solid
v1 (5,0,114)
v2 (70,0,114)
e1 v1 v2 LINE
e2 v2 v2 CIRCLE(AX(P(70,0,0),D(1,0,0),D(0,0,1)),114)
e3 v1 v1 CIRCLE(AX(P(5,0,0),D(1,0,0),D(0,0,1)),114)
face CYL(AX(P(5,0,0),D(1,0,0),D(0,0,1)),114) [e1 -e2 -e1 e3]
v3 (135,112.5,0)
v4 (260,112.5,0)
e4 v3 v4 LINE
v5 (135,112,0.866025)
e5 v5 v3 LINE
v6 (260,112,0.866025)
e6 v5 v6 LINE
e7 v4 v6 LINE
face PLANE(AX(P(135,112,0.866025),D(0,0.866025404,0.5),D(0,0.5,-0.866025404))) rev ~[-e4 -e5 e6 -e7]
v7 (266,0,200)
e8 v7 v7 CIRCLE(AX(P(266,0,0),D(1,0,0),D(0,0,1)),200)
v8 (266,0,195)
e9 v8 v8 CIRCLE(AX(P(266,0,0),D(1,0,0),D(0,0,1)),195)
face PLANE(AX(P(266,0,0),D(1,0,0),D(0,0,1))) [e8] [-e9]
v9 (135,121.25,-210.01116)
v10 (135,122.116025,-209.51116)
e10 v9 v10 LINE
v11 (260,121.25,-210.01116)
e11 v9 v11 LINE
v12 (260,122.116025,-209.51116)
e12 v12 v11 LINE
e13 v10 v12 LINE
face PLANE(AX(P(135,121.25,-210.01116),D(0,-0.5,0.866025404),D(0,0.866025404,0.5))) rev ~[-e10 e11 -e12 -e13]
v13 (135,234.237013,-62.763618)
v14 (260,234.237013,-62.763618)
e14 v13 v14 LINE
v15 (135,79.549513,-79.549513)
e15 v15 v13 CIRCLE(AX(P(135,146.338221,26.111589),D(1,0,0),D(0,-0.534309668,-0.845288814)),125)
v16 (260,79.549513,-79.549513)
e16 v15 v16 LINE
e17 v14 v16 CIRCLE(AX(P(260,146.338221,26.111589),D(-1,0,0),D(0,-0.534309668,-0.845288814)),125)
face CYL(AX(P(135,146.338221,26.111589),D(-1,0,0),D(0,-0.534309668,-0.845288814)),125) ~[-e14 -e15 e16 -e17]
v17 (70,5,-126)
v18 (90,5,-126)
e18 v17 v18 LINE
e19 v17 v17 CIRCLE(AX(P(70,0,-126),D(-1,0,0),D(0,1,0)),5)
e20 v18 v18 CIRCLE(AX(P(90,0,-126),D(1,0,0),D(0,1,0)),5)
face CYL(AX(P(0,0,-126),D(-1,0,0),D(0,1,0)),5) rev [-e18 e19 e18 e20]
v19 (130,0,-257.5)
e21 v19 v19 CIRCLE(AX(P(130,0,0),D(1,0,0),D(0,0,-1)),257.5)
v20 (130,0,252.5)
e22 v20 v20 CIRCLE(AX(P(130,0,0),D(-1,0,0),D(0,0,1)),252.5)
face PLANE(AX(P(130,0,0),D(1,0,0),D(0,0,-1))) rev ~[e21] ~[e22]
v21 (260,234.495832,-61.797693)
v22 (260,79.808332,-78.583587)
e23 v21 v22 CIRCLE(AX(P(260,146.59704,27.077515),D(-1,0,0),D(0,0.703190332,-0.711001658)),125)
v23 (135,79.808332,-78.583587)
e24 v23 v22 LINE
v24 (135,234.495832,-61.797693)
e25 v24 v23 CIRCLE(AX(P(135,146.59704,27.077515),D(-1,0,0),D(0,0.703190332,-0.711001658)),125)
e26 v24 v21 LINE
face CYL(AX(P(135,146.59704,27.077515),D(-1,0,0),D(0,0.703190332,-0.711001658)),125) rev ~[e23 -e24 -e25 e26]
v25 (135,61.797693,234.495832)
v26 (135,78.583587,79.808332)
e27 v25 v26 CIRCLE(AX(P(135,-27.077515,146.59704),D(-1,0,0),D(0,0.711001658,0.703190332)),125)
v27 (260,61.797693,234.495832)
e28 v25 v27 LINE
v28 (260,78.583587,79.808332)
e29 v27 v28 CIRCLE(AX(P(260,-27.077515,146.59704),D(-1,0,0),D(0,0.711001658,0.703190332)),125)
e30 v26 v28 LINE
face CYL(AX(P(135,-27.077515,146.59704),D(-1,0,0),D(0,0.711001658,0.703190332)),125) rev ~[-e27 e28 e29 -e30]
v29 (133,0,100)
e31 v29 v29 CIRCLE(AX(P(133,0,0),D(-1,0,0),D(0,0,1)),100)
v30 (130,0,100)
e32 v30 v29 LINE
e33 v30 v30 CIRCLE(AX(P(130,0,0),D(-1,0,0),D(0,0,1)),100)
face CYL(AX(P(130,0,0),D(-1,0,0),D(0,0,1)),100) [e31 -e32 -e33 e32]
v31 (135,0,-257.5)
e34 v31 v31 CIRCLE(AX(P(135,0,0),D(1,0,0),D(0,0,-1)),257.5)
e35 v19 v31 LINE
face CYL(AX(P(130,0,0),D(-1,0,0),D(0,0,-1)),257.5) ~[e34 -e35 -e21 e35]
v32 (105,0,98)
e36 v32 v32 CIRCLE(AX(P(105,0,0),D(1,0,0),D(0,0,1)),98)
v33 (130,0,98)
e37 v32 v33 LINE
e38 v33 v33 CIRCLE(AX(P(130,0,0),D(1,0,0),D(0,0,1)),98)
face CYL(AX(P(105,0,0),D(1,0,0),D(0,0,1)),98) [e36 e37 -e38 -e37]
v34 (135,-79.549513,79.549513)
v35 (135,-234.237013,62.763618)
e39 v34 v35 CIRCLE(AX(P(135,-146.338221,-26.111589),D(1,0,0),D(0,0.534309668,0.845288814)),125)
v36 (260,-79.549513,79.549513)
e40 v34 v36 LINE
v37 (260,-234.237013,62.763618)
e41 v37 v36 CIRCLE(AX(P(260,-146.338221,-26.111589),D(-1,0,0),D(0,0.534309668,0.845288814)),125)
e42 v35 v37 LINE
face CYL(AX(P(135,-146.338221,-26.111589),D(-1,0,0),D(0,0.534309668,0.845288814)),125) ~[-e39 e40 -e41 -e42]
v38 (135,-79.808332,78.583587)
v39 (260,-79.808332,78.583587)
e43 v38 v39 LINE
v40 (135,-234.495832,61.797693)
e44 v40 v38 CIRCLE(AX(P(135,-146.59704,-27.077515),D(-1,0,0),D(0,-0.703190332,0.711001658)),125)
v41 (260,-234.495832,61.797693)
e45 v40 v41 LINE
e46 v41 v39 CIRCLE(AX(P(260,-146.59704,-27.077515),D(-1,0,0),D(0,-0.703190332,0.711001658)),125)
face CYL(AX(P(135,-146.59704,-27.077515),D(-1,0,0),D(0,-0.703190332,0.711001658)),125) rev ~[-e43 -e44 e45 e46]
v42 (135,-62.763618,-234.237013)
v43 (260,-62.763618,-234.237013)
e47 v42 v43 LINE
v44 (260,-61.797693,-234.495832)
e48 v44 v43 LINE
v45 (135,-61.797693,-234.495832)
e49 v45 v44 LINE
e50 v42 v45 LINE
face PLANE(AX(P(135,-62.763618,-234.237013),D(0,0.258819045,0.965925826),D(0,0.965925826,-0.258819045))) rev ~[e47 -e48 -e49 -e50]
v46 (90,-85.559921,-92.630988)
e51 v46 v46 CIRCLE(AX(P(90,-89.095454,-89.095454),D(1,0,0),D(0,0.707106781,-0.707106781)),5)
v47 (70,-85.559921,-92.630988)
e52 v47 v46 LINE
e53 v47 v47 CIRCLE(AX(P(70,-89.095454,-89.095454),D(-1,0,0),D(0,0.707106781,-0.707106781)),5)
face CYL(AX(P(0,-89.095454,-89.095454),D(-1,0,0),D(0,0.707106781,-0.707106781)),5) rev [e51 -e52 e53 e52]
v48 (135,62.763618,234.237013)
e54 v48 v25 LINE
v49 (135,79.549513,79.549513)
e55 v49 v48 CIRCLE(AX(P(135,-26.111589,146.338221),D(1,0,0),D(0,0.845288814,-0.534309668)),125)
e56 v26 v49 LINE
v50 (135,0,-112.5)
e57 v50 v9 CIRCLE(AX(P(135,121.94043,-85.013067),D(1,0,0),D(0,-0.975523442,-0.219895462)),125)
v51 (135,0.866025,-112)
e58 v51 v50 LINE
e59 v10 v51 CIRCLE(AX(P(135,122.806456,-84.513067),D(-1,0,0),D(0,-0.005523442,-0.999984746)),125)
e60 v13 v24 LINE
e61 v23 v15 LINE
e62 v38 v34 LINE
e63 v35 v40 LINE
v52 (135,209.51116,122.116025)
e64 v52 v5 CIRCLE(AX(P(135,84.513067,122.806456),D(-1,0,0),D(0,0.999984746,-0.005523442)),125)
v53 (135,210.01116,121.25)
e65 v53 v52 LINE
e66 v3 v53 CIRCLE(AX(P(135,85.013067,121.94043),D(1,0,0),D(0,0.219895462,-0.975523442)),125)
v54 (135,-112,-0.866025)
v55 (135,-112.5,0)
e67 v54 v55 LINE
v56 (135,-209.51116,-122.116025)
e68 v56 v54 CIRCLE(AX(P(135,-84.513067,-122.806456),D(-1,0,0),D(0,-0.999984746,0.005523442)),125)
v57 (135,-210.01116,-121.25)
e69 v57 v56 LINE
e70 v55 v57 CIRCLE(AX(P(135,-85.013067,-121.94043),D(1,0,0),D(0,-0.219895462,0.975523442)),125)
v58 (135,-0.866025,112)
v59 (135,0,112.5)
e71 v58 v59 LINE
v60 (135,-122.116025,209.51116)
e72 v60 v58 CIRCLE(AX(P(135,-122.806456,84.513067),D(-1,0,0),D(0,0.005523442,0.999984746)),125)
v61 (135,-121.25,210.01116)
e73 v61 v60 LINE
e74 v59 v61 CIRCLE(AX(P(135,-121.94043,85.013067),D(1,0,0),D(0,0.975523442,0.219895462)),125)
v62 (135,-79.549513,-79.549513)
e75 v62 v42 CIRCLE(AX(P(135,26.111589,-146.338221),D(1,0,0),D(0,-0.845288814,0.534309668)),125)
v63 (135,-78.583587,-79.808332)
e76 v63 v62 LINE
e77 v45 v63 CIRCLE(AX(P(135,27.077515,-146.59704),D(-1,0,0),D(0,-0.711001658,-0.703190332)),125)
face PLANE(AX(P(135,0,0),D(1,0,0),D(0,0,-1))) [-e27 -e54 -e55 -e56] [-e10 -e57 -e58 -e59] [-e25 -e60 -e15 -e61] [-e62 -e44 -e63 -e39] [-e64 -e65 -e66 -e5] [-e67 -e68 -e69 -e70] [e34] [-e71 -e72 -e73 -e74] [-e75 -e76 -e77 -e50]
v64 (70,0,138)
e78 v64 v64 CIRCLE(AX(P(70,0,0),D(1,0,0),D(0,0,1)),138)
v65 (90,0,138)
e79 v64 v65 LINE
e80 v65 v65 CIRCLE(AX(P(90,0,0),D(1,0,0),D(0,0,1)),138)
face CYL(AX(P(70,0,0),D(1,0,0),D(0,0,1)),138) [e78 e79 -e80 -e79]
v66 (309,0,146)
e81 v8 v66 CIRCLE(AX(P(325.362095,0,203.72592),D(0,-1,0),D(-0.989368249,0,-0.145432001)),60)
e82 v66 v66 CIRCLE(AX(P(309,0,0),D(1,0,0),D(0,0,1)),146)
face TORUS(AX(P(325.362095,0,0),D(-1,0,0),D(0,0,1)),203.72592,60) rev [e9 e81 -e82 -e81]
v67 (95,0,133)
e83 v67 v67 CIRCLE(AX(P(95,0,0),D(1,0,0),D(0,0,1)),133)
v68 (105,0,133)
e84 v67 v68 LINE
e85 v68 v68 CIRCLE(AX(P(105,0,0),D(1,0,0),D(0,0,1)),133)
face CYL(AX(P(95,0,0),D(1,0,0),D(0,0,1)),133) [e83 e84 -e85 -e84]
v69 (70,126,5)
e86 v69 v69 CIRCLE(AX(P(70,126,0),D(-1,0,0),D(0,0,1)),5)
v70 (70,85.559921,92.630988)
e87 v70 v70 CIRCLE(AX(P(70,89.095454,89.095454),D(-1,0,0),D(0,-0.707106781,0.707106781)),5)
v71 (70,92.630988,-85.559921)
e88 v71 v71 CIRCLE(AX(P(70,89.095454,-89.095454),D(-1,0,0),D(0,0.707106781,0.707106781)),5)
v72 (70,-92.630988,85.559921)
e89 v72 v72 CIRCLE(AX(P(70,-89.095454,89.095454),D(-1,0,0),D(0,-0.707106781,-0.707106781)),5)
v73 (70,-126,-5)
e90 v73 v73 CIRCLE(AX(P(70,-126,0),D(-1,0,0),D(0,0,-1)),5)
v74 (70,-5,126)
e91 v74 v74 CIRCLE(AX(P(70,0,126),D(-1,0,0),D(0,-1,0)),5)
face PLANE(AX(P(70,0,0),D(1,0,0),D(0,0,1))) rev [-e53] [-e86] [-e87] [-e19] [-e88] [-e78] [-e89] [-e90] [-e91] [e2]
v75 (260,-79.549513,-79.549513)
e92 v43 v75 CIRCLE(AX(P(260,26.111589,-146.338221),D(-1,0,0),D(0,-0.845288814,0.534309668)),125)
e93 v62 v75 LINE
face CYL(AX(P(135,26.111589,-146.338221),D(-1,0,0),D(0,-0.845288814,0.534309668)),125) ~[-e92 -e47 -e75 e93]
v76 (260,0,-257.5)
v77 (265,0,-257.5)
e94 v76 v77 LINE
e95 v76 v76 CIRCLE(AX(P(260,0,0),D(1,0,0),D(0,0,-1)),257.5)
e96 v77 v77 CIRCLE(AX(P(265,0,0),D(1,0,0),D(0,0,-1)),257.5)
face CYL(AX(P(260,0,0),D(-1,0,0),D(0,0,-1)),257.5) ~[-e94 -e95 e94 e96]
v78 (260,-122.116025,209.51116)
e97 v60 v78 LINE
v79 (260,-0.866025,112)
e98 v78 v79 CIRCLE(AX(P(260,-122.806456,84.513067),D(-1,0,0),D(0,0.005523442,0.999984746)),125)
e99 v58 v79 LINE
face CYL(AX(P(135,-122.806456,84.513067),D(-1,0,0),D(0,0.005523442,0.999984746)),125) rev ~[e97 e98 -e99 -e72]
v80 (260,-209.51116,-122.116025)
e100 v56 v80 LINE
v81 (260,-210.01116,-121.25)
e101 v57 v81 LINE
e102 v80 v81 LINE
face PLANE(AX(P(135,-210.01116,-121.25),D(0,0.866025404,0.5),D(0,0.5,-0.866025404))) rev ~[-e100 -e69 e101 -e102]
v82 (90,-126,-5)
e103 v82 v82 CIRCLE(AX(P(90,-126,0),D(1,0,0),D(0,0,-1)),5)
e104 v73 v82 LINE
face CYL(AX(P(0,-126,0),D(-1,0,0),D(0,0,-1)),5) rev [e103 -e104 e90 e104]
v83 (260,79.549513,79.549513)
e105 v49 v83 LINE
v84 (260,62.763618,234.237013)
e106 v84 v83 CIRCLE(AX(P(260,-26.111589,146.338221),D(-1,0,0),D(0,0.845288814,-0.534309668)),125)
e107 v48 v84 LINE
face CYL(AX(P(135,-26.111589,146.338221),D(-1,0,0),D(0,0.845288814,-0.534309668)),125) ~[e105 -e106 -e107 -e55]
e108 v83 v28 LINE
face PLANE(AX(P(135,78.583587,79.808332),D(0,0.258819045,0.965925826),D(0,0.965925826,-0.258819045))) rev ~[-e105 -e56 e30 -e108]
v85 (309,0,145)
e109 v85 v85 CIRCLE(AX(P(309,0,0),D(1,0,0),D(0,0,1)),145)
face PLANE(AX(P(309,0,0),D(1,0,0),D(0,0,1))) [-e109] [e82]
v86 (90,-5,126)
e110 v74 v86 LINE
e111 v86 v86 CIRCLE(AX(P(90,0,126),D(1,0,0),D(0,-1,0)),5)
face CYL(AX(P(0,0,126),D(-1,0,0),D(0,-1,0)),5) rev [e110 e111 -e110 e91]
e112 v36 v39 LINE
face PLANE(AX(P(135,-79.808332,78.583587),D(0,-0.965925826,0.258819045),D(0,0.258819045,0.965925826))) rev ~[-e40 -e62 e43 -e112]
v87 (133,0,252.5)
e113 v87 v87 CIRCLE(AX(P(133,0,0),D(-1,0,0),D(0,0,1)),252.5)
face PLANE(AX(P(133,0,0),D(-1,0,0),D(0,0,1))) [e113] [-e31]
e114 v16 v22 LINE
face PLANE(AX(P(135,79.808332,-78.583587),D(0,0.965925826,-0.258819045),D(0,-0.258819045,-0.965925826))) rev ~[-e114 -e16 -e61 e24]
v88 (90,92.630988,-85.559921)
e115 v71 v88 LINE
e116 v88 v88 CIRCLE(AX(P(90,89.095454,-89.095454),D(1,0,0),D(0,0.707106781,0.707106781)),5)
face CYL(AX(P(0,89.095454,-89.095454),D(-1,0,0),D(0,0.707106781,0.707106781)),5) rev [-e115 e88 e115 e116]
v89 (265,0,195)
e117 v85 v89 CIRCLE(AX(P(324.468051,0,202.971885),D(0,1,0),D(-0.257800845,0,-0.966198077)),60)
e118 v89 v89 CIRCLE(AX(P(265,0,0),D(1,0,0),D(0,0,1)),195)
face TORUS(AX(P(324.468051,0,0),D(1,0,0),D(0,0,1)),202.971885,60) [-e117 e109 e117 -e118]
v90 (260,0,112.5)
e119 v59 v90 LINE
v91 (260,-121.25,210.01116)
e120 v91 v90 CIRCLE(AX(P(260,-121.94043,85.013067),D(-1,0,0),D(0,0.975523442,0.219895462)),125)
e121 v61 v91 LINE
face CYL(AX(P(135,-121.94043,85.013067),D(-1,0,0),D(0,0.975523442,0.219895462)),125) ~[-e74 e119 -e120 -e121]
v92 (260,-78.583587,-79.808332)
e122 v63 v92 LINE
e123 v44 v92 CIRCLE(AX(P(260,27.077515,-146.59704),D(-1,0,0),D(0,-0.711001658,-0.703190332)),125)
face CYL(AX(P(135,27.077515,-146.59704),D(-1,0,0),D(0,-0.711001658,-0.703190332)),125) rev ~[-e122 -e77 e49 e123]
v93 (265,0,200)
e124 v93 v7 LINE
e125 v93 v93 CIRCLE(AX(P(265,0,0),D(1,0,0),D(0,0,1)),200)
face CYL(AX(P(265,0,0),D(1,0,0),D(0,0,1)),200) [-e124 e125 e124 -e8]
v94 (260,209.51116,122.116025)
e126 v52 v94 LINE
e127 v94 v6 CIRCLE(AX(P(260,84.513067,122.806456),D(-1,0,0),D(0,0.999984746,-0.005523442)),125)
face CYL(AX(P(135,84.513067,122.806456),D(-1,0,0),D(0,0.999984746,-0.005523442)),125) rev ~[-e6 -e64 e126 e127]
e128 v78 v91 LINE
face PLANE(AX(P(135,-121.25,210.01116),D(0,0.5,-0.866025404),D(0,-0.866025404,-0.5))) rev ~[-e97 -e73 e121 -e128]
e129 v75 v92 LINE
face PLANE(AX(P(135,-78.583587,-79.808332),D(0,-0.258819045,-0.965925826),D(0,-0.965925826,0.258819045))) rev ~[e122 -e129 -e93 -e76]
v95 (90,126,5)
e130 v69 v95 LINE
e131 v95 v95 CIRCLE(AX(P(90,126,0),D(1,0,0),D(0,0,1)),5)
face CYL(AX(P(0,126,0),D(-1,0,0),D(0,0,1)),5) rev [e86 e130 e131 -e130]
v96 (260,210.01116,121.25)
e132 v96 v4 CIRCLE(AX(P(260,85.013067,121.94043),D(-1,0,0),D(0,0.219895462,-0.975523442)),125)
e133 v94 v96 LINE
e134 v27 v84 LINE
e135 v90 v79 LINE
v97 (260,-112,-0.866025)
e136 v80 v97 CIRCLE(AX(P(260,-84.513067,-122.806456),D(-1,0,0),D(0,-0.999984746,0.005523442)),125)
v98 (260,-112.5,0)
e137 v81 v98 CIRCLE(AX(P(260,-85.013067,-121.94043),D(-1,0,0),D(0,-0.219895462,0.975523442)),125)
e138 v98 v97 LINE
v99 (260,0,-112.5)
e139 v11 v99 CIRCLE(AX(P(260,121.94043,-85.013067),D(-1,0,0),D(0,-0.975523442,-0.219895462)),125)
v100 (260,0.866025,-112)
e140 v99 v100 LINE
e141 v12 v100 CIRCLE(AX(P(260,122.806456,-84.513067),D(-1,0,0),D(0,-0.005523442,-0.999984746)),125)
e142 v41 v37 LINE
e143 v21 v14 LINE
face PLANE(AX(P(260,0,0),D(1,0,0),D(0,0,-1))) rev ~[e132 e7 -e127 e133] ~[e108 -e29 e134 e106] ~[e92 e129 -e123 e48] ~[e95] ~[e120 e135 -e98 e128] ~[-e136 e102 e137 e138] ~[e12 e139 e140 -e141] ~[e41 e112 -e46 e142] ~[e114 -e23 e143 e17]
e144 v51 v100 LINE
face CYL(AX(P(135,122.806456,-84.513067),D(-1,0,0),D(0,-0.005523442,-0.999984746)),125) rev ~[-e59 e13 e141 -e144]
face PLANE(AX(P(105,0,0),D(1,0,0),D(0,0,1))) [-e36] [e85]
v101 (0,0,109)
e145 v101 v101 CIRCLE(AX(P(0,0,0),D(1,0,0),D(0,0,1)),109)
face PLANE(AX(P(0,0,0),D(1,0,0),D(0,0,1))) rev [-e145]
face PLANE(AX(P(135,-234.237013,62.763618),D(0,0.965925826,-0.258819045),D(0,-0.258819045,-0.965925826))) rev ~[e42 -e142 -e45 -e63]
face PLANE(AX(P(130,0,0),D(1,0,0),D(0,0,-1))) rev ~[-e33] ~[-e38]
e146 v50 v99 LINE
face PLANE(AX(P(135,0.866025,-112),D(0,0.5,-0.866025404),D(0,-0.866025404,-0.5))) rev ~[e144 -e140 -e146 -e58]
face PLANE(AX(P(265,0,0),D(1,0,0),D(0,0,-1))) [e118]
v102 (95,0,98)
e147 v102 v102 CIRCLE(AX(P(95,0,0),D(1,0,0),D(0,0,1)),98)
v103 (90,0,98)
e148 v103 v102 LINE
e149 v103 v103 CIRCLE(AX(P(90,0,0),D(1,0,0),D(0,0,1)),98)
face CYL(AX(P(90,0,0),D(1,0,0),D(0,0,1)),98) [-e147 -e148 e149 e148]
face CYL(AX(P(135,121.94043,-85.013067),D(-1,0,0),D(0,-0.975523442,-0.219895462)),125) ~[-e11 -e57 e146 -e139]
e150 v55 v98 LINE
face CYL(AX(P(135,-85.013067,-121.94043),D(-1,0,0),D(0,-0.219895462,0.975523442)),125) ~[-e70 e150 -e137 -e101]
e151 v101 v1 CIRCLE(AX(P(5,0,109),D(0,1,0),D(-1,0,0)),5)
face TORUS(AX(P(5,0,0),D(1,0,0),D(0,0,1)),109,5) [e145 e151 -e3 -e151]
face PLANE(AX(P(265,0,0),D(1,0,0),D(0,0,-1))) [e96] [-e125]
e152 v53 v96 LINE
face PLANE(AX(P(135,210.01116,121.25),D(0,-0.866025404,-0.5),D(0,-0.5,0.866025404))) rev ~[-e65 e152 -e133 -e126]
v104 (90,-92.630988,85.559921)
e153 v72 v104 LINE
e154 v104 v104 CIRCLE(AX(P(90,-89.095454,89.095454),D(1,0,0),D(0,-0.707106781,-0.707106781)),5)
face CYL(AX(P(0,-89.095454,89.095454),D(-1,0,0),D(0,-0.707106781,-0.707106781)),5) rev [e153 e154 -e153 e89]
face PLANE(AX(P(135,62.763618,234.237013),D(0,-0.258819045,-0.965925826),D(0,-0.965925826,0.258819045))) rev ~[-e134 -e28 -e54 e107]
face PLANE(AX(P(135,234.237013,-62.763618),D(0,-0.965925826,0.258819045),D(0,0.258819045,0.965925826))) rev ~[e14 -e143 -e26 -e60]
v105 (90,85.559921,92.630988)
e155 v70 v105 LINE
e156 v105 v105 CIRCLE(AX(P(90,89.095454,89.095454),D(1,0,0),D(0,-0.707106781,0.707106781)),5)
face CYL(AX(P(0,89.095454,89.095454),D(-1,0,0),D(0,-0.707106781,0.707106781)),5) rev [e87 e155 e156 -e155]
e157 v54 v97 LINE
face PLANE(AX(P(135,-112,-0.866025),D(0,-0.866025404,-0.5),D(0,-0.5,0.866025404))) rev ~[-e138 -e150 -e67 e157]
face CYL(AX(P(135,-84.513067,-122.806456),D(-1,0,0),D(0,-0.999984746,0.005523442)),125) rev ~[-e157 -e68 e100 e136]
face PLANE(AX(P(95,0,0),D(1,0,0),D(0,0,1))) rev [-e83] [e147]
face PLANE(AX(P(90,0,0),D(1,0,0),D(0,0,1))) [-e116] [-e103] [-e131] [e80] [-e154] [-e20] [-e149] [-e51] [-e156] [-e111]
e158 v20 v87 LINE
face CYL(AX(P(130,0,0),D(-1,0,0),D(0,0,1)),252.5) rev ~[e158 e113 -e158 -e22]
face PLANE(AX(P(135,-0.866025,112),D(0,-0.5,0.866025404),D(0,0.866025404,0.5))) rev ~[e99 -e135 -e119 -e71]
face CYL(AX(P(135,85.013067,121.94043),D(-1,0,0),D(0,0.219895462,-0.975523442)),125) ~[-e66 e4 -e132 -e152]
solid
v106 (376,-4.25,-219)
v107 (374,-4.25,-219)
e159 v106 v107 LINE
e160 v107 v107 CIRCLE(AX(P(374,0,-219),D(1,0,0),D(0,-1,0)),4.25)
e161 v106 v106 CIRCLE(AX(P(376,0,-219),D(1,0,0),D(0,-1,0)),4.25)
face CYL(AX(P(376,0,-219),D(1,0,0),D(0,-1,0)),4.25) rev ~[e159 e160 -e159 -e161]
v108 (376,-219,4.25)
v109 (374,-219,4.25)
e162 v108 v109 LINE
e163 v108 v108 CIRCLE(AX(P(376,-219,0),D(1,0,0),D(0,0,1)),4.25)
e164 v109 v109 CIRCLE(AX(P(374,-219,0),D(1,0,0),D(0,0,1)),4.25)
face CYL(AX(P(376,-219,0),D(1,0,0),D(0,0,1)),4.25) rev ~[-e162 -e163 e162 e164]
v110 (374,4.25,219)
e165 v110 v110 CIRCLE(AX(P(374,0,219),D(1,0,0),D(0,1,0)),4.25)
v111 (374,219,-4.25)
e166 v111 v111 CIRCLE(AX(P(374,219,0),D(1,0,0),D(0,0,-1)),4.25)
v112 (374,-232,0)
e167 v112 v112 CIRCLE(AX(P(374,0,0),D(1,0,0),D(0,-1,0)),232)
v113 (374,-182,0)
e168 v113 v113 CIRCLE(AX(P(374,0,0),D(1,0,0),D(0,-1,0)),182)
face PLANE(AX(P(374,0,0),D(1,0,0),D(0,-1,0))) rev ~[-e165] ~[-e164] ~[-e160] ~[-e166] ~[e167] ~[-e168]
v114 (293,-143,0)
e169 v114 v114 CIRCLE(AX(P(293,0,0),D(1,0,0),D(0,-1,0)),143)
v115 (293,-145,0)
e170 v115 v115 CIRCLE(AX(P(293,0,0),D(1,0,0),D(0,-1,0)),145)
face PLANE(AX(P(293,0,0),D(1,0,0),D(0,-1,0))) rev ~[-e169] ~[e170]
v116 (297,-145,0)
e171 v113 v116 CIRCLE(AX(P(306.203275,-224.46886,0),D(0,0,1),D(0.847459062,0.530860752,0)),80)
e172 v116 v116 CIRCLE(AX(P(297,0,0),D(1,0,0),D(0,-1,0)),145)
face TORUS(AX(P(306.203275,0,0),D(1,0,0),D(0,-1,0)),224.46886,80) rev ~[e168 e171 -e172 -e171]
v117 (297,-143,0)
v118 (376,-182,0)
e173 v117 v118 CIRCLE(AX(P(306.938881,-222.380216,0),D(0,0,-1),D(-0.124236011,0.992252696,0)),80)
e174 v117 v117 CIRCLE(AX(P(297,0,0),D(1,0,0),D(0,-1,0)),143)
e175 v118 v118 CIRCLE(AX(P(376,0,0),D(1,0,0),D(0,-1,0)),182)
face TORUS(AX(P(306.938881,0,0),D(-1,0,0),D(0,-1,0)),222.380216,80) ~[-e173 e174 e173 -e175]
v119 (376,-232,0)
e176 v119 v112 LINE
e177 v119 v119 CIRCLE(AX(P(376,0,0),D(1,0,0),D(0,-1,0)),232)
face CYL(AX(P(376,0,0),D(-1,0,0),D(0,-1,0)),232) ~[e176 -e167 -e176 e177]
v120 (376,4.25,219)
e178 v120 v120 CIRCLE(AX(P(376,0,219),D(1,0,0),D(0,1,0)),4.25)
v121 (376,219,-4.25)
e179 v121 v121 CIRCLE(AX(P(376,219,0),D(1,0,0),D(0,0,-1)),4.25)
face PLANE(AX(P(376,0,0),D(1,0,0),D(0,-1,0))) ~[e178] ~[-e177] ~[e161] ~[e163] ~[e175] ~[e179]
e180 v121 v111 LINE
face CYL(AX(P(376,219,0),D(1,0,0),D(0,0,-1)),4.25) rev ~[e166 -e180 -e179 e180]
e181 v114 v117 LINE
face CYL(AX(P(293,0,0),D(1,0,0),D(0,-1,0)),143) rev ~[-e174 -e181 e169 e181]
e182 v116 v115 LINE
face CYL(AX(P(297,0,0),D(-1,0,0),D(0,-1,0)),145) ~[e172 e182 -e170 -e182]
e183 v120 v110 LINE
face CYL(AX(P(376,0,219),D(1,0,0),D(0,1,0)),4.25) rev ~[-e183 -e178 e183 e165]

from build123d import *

# Parameters (mm, degrees)
SKETCH2_R         = 257.5
EXTRUDE1_DEPTH    = 5
SKETCH9_R         = 252.5
SKETCH9_R_2       = 100
EXTRUDE7_DEPTH    = 3
SKETCH3_R         = 257.5
EXTRUDE2_DEPTH    = 5
EXTRUDE3_DEPTH    = 130
CIRPATTERN1_COUNT = 8
SKETCH7_R         = 4.25
EXTRUDE5_DEPTH    = 5
CIRPATTERN2_COUNT = 4
SKETCH8_R         = 5
EXTRUDE6_DEPTH    = 90
CIRPATTERN3_COUNT = 8


with BuildPart() as part:
    # Sketch1 → Revolve1 (revolve)
    with BuildSketch(Plane.XY, mode=Mode.PRIVATE) as revolve1_sk:
        with BuildLine():
            Line((0, 0), (0, 109))
            ThreePointArc((0, 109), (1.464466094, 112.535533906), (5, 114))
            Line((5, 114), (70, 114))
            Line((70, 114), (70, 138))
            Line((70, 138), (90, 138))
            Line((90, 138), (90, 98))
            Line((90, 98), (95, 98))
            Line((95, 98), (95, 133))
            Line((95, 133), (105, 133))
            Line((105, 133), (105, 98))
            Line((105, 98), (130, 98))
            Line((130, 98), (130, 0))
            Line((130, 0), (0, 0))
        make_face()
    revolve(revolve1_sk.sketch.rotate(Axis((0, 0, 0), (1, 0, 0)), 90), axis=Axis((0, 0, 0), (1, 0, 0)))

    # Sketch2 → Extrude1 (add)
    with BuildSketch(Plane(origin=(130, 0, 0), x_dir=(0, 0, -1), z_dir=(1, 0, 0))):
        Circle(SKETCH2_R)
    extrude(amount=EXTRUDE1_DEPTH)

    # Sketch9 → Extrude7 (cut)
    with BuildSketch(Plane.ZY.offset(-130)):
        Circle(SKETCH9_R)
        Circle(SKETCH9_R_2, mode=Mode.SUBTRACT)
    extrude(amount=-EXTRUDE7_DEPTH, mode=Mode.SUBTRACT)



with BuildPart() as body_2:
    # Sketch3 → Extrude2 (new body)
    with BuildSketch(Plane(origin=(260, 0, 0), x_dir=(0, 0, -1), z_dir=(1, 0, 0))):
        Circle(SKETCH3_R)
    extrude(amount=EXTRUDE2_DEPTH)


with BuildPart() as part_1:
    add(part.part)

    add(body_2.part)  # Extrude3 merges body 2
    # Sketch4 → Extrude3 (add)
    with BuildSketch(Plane(origin=(135, 0, 0), x_dir=(0, 0, -1), z_dir=(1, 0, 0))):
        with BuildLine():
            Line((-121.25, 210.011160418), (-122.116025404, 209.511160418))
            ThreePointArc((-122.116025404, 209.511160418), (-44.469436379, 181.921031018), (-0.866025404, 112))
            Line((-0.866025404, 112), (0, 112.5))
            ThreePointArc((0, 112.5), (-43.603410976, 182.421031018), (-121.25, 210.011160418))
        make_face()
    extrude3 = extrude(amount=EXTRUDE3_DEPTH)

    # CirPattern1: Extrude3 ×8 about axis
    cirpattern1_axis = Axis((0, 0, 0), (1, 0, 0))
    for i in range(1, CIRPATTERN1_COUNT):
        add(extrude3.rotate(cirpattern1_axis, i * 360 / CIRPATTERN1_COUNT))

    # Sketch5 → Revolve2 (revolve)
    with BuildSketch(Plane.XY, mode=Mode.PRIVATE) as revolve2_sk:
        with BuildLine():
            Line((265, 200), (266, 200))
            Line((266, 200), (266, 195))
            ThreePointArc((266, 195), (280.264553623, 164.150526649), (309, 146))
            Line((309, 146), (309, 145))
            ThreePointArc((309, 145), (279.425239697, 163.334210933), (265, 195))
            Line((265, 195), (265, 200))
        make_face()
    revolve(revolve2_sk.sketch.rotate(Axis((0, 0, 0), (1, 0, 0)), 90), axis=Axis((0, 0, 0), (1, 0, 0)))

    # Sketch8 → Extrude6 (cut)
    with BuildSketch(Plane(origin=(0, 0, 0), x_dir=(0, 0, -1), z_dir=(1, 0, 0))):
        with Locations(Location((0, 126, 0), (0, 0, 180))):
            Circle(SKETCH8_R)
    extrude6 = extrude(amount=EXTRUDE6_DEPTH, mode=Mode.SUBTRACT)

    # CirPattern3: Extrude6 ×8 about axis
    cirpattern3_axis = Axis((0, 0, 0), (1, 0, 0))
    for i in range(1, CIRPATTERN3_COUNT):
        add(extrude6.rotate(cirpattern3_axis, i * 360 / CIRPATTERN3_COUNT), mode=Mode.SUBTRACT)


with BuildPart() as body_2_2:
    # Sketch6 → Revolve3 (revolve)
    with BuildSketch(Plane.XY, mode=Mode.PRIVATE) as revolve3_sk:
        with BuildLine():
            Line((376, 232), (374, 232))
            Line((374, 232), (374, 182))
            ThreePointArc((374, 182), (340.85220133, 152.361635071), (297, 145))
            Line((297, 145), (293, 145))
            Line((293, 145), (293, 143))
            Line((293, 143), (297, 143))
            ThreePointArc((297, 143), (342.352293074, 150.645355054), (376, 182))
            Line((376, 182), (376, 232))
        make_face()
    revolve(revolve3_sk.sketch.rotate(Axis((0, 0, 0), (1, 0, 0)), 180), axis=Axis((0, 0, 0), (1, 0, 0)))

    # Sketch7 → Extrude5 (cut)
    with BuildSketch(Plane(origin=(376, 0, 0), x_dir=(0, 0, -1), z_dir=(1, 0, 0))):
        with Locations((0, 219)):
            Circle(SKETCH7_R)
    extrude5 = extrude(amount=-EXTRUDE5_DEPTH, mode=Mode.SUBTRACT)

    # CirPattern2: Extrude5 ×4 about axis
    cirpattern2_axis = Axis((0, 0, 0), (1, 0, 0))
    for i in range(1, CIRPATTERN2_COUNT):
        add(extrude5.rotate(cirpattern2_axis, i * 360 / CIRPATTERN2_COUNT), mode=Mode.SUBTRACT)


solid = Compound([part_1.part, body_2_2.part])
